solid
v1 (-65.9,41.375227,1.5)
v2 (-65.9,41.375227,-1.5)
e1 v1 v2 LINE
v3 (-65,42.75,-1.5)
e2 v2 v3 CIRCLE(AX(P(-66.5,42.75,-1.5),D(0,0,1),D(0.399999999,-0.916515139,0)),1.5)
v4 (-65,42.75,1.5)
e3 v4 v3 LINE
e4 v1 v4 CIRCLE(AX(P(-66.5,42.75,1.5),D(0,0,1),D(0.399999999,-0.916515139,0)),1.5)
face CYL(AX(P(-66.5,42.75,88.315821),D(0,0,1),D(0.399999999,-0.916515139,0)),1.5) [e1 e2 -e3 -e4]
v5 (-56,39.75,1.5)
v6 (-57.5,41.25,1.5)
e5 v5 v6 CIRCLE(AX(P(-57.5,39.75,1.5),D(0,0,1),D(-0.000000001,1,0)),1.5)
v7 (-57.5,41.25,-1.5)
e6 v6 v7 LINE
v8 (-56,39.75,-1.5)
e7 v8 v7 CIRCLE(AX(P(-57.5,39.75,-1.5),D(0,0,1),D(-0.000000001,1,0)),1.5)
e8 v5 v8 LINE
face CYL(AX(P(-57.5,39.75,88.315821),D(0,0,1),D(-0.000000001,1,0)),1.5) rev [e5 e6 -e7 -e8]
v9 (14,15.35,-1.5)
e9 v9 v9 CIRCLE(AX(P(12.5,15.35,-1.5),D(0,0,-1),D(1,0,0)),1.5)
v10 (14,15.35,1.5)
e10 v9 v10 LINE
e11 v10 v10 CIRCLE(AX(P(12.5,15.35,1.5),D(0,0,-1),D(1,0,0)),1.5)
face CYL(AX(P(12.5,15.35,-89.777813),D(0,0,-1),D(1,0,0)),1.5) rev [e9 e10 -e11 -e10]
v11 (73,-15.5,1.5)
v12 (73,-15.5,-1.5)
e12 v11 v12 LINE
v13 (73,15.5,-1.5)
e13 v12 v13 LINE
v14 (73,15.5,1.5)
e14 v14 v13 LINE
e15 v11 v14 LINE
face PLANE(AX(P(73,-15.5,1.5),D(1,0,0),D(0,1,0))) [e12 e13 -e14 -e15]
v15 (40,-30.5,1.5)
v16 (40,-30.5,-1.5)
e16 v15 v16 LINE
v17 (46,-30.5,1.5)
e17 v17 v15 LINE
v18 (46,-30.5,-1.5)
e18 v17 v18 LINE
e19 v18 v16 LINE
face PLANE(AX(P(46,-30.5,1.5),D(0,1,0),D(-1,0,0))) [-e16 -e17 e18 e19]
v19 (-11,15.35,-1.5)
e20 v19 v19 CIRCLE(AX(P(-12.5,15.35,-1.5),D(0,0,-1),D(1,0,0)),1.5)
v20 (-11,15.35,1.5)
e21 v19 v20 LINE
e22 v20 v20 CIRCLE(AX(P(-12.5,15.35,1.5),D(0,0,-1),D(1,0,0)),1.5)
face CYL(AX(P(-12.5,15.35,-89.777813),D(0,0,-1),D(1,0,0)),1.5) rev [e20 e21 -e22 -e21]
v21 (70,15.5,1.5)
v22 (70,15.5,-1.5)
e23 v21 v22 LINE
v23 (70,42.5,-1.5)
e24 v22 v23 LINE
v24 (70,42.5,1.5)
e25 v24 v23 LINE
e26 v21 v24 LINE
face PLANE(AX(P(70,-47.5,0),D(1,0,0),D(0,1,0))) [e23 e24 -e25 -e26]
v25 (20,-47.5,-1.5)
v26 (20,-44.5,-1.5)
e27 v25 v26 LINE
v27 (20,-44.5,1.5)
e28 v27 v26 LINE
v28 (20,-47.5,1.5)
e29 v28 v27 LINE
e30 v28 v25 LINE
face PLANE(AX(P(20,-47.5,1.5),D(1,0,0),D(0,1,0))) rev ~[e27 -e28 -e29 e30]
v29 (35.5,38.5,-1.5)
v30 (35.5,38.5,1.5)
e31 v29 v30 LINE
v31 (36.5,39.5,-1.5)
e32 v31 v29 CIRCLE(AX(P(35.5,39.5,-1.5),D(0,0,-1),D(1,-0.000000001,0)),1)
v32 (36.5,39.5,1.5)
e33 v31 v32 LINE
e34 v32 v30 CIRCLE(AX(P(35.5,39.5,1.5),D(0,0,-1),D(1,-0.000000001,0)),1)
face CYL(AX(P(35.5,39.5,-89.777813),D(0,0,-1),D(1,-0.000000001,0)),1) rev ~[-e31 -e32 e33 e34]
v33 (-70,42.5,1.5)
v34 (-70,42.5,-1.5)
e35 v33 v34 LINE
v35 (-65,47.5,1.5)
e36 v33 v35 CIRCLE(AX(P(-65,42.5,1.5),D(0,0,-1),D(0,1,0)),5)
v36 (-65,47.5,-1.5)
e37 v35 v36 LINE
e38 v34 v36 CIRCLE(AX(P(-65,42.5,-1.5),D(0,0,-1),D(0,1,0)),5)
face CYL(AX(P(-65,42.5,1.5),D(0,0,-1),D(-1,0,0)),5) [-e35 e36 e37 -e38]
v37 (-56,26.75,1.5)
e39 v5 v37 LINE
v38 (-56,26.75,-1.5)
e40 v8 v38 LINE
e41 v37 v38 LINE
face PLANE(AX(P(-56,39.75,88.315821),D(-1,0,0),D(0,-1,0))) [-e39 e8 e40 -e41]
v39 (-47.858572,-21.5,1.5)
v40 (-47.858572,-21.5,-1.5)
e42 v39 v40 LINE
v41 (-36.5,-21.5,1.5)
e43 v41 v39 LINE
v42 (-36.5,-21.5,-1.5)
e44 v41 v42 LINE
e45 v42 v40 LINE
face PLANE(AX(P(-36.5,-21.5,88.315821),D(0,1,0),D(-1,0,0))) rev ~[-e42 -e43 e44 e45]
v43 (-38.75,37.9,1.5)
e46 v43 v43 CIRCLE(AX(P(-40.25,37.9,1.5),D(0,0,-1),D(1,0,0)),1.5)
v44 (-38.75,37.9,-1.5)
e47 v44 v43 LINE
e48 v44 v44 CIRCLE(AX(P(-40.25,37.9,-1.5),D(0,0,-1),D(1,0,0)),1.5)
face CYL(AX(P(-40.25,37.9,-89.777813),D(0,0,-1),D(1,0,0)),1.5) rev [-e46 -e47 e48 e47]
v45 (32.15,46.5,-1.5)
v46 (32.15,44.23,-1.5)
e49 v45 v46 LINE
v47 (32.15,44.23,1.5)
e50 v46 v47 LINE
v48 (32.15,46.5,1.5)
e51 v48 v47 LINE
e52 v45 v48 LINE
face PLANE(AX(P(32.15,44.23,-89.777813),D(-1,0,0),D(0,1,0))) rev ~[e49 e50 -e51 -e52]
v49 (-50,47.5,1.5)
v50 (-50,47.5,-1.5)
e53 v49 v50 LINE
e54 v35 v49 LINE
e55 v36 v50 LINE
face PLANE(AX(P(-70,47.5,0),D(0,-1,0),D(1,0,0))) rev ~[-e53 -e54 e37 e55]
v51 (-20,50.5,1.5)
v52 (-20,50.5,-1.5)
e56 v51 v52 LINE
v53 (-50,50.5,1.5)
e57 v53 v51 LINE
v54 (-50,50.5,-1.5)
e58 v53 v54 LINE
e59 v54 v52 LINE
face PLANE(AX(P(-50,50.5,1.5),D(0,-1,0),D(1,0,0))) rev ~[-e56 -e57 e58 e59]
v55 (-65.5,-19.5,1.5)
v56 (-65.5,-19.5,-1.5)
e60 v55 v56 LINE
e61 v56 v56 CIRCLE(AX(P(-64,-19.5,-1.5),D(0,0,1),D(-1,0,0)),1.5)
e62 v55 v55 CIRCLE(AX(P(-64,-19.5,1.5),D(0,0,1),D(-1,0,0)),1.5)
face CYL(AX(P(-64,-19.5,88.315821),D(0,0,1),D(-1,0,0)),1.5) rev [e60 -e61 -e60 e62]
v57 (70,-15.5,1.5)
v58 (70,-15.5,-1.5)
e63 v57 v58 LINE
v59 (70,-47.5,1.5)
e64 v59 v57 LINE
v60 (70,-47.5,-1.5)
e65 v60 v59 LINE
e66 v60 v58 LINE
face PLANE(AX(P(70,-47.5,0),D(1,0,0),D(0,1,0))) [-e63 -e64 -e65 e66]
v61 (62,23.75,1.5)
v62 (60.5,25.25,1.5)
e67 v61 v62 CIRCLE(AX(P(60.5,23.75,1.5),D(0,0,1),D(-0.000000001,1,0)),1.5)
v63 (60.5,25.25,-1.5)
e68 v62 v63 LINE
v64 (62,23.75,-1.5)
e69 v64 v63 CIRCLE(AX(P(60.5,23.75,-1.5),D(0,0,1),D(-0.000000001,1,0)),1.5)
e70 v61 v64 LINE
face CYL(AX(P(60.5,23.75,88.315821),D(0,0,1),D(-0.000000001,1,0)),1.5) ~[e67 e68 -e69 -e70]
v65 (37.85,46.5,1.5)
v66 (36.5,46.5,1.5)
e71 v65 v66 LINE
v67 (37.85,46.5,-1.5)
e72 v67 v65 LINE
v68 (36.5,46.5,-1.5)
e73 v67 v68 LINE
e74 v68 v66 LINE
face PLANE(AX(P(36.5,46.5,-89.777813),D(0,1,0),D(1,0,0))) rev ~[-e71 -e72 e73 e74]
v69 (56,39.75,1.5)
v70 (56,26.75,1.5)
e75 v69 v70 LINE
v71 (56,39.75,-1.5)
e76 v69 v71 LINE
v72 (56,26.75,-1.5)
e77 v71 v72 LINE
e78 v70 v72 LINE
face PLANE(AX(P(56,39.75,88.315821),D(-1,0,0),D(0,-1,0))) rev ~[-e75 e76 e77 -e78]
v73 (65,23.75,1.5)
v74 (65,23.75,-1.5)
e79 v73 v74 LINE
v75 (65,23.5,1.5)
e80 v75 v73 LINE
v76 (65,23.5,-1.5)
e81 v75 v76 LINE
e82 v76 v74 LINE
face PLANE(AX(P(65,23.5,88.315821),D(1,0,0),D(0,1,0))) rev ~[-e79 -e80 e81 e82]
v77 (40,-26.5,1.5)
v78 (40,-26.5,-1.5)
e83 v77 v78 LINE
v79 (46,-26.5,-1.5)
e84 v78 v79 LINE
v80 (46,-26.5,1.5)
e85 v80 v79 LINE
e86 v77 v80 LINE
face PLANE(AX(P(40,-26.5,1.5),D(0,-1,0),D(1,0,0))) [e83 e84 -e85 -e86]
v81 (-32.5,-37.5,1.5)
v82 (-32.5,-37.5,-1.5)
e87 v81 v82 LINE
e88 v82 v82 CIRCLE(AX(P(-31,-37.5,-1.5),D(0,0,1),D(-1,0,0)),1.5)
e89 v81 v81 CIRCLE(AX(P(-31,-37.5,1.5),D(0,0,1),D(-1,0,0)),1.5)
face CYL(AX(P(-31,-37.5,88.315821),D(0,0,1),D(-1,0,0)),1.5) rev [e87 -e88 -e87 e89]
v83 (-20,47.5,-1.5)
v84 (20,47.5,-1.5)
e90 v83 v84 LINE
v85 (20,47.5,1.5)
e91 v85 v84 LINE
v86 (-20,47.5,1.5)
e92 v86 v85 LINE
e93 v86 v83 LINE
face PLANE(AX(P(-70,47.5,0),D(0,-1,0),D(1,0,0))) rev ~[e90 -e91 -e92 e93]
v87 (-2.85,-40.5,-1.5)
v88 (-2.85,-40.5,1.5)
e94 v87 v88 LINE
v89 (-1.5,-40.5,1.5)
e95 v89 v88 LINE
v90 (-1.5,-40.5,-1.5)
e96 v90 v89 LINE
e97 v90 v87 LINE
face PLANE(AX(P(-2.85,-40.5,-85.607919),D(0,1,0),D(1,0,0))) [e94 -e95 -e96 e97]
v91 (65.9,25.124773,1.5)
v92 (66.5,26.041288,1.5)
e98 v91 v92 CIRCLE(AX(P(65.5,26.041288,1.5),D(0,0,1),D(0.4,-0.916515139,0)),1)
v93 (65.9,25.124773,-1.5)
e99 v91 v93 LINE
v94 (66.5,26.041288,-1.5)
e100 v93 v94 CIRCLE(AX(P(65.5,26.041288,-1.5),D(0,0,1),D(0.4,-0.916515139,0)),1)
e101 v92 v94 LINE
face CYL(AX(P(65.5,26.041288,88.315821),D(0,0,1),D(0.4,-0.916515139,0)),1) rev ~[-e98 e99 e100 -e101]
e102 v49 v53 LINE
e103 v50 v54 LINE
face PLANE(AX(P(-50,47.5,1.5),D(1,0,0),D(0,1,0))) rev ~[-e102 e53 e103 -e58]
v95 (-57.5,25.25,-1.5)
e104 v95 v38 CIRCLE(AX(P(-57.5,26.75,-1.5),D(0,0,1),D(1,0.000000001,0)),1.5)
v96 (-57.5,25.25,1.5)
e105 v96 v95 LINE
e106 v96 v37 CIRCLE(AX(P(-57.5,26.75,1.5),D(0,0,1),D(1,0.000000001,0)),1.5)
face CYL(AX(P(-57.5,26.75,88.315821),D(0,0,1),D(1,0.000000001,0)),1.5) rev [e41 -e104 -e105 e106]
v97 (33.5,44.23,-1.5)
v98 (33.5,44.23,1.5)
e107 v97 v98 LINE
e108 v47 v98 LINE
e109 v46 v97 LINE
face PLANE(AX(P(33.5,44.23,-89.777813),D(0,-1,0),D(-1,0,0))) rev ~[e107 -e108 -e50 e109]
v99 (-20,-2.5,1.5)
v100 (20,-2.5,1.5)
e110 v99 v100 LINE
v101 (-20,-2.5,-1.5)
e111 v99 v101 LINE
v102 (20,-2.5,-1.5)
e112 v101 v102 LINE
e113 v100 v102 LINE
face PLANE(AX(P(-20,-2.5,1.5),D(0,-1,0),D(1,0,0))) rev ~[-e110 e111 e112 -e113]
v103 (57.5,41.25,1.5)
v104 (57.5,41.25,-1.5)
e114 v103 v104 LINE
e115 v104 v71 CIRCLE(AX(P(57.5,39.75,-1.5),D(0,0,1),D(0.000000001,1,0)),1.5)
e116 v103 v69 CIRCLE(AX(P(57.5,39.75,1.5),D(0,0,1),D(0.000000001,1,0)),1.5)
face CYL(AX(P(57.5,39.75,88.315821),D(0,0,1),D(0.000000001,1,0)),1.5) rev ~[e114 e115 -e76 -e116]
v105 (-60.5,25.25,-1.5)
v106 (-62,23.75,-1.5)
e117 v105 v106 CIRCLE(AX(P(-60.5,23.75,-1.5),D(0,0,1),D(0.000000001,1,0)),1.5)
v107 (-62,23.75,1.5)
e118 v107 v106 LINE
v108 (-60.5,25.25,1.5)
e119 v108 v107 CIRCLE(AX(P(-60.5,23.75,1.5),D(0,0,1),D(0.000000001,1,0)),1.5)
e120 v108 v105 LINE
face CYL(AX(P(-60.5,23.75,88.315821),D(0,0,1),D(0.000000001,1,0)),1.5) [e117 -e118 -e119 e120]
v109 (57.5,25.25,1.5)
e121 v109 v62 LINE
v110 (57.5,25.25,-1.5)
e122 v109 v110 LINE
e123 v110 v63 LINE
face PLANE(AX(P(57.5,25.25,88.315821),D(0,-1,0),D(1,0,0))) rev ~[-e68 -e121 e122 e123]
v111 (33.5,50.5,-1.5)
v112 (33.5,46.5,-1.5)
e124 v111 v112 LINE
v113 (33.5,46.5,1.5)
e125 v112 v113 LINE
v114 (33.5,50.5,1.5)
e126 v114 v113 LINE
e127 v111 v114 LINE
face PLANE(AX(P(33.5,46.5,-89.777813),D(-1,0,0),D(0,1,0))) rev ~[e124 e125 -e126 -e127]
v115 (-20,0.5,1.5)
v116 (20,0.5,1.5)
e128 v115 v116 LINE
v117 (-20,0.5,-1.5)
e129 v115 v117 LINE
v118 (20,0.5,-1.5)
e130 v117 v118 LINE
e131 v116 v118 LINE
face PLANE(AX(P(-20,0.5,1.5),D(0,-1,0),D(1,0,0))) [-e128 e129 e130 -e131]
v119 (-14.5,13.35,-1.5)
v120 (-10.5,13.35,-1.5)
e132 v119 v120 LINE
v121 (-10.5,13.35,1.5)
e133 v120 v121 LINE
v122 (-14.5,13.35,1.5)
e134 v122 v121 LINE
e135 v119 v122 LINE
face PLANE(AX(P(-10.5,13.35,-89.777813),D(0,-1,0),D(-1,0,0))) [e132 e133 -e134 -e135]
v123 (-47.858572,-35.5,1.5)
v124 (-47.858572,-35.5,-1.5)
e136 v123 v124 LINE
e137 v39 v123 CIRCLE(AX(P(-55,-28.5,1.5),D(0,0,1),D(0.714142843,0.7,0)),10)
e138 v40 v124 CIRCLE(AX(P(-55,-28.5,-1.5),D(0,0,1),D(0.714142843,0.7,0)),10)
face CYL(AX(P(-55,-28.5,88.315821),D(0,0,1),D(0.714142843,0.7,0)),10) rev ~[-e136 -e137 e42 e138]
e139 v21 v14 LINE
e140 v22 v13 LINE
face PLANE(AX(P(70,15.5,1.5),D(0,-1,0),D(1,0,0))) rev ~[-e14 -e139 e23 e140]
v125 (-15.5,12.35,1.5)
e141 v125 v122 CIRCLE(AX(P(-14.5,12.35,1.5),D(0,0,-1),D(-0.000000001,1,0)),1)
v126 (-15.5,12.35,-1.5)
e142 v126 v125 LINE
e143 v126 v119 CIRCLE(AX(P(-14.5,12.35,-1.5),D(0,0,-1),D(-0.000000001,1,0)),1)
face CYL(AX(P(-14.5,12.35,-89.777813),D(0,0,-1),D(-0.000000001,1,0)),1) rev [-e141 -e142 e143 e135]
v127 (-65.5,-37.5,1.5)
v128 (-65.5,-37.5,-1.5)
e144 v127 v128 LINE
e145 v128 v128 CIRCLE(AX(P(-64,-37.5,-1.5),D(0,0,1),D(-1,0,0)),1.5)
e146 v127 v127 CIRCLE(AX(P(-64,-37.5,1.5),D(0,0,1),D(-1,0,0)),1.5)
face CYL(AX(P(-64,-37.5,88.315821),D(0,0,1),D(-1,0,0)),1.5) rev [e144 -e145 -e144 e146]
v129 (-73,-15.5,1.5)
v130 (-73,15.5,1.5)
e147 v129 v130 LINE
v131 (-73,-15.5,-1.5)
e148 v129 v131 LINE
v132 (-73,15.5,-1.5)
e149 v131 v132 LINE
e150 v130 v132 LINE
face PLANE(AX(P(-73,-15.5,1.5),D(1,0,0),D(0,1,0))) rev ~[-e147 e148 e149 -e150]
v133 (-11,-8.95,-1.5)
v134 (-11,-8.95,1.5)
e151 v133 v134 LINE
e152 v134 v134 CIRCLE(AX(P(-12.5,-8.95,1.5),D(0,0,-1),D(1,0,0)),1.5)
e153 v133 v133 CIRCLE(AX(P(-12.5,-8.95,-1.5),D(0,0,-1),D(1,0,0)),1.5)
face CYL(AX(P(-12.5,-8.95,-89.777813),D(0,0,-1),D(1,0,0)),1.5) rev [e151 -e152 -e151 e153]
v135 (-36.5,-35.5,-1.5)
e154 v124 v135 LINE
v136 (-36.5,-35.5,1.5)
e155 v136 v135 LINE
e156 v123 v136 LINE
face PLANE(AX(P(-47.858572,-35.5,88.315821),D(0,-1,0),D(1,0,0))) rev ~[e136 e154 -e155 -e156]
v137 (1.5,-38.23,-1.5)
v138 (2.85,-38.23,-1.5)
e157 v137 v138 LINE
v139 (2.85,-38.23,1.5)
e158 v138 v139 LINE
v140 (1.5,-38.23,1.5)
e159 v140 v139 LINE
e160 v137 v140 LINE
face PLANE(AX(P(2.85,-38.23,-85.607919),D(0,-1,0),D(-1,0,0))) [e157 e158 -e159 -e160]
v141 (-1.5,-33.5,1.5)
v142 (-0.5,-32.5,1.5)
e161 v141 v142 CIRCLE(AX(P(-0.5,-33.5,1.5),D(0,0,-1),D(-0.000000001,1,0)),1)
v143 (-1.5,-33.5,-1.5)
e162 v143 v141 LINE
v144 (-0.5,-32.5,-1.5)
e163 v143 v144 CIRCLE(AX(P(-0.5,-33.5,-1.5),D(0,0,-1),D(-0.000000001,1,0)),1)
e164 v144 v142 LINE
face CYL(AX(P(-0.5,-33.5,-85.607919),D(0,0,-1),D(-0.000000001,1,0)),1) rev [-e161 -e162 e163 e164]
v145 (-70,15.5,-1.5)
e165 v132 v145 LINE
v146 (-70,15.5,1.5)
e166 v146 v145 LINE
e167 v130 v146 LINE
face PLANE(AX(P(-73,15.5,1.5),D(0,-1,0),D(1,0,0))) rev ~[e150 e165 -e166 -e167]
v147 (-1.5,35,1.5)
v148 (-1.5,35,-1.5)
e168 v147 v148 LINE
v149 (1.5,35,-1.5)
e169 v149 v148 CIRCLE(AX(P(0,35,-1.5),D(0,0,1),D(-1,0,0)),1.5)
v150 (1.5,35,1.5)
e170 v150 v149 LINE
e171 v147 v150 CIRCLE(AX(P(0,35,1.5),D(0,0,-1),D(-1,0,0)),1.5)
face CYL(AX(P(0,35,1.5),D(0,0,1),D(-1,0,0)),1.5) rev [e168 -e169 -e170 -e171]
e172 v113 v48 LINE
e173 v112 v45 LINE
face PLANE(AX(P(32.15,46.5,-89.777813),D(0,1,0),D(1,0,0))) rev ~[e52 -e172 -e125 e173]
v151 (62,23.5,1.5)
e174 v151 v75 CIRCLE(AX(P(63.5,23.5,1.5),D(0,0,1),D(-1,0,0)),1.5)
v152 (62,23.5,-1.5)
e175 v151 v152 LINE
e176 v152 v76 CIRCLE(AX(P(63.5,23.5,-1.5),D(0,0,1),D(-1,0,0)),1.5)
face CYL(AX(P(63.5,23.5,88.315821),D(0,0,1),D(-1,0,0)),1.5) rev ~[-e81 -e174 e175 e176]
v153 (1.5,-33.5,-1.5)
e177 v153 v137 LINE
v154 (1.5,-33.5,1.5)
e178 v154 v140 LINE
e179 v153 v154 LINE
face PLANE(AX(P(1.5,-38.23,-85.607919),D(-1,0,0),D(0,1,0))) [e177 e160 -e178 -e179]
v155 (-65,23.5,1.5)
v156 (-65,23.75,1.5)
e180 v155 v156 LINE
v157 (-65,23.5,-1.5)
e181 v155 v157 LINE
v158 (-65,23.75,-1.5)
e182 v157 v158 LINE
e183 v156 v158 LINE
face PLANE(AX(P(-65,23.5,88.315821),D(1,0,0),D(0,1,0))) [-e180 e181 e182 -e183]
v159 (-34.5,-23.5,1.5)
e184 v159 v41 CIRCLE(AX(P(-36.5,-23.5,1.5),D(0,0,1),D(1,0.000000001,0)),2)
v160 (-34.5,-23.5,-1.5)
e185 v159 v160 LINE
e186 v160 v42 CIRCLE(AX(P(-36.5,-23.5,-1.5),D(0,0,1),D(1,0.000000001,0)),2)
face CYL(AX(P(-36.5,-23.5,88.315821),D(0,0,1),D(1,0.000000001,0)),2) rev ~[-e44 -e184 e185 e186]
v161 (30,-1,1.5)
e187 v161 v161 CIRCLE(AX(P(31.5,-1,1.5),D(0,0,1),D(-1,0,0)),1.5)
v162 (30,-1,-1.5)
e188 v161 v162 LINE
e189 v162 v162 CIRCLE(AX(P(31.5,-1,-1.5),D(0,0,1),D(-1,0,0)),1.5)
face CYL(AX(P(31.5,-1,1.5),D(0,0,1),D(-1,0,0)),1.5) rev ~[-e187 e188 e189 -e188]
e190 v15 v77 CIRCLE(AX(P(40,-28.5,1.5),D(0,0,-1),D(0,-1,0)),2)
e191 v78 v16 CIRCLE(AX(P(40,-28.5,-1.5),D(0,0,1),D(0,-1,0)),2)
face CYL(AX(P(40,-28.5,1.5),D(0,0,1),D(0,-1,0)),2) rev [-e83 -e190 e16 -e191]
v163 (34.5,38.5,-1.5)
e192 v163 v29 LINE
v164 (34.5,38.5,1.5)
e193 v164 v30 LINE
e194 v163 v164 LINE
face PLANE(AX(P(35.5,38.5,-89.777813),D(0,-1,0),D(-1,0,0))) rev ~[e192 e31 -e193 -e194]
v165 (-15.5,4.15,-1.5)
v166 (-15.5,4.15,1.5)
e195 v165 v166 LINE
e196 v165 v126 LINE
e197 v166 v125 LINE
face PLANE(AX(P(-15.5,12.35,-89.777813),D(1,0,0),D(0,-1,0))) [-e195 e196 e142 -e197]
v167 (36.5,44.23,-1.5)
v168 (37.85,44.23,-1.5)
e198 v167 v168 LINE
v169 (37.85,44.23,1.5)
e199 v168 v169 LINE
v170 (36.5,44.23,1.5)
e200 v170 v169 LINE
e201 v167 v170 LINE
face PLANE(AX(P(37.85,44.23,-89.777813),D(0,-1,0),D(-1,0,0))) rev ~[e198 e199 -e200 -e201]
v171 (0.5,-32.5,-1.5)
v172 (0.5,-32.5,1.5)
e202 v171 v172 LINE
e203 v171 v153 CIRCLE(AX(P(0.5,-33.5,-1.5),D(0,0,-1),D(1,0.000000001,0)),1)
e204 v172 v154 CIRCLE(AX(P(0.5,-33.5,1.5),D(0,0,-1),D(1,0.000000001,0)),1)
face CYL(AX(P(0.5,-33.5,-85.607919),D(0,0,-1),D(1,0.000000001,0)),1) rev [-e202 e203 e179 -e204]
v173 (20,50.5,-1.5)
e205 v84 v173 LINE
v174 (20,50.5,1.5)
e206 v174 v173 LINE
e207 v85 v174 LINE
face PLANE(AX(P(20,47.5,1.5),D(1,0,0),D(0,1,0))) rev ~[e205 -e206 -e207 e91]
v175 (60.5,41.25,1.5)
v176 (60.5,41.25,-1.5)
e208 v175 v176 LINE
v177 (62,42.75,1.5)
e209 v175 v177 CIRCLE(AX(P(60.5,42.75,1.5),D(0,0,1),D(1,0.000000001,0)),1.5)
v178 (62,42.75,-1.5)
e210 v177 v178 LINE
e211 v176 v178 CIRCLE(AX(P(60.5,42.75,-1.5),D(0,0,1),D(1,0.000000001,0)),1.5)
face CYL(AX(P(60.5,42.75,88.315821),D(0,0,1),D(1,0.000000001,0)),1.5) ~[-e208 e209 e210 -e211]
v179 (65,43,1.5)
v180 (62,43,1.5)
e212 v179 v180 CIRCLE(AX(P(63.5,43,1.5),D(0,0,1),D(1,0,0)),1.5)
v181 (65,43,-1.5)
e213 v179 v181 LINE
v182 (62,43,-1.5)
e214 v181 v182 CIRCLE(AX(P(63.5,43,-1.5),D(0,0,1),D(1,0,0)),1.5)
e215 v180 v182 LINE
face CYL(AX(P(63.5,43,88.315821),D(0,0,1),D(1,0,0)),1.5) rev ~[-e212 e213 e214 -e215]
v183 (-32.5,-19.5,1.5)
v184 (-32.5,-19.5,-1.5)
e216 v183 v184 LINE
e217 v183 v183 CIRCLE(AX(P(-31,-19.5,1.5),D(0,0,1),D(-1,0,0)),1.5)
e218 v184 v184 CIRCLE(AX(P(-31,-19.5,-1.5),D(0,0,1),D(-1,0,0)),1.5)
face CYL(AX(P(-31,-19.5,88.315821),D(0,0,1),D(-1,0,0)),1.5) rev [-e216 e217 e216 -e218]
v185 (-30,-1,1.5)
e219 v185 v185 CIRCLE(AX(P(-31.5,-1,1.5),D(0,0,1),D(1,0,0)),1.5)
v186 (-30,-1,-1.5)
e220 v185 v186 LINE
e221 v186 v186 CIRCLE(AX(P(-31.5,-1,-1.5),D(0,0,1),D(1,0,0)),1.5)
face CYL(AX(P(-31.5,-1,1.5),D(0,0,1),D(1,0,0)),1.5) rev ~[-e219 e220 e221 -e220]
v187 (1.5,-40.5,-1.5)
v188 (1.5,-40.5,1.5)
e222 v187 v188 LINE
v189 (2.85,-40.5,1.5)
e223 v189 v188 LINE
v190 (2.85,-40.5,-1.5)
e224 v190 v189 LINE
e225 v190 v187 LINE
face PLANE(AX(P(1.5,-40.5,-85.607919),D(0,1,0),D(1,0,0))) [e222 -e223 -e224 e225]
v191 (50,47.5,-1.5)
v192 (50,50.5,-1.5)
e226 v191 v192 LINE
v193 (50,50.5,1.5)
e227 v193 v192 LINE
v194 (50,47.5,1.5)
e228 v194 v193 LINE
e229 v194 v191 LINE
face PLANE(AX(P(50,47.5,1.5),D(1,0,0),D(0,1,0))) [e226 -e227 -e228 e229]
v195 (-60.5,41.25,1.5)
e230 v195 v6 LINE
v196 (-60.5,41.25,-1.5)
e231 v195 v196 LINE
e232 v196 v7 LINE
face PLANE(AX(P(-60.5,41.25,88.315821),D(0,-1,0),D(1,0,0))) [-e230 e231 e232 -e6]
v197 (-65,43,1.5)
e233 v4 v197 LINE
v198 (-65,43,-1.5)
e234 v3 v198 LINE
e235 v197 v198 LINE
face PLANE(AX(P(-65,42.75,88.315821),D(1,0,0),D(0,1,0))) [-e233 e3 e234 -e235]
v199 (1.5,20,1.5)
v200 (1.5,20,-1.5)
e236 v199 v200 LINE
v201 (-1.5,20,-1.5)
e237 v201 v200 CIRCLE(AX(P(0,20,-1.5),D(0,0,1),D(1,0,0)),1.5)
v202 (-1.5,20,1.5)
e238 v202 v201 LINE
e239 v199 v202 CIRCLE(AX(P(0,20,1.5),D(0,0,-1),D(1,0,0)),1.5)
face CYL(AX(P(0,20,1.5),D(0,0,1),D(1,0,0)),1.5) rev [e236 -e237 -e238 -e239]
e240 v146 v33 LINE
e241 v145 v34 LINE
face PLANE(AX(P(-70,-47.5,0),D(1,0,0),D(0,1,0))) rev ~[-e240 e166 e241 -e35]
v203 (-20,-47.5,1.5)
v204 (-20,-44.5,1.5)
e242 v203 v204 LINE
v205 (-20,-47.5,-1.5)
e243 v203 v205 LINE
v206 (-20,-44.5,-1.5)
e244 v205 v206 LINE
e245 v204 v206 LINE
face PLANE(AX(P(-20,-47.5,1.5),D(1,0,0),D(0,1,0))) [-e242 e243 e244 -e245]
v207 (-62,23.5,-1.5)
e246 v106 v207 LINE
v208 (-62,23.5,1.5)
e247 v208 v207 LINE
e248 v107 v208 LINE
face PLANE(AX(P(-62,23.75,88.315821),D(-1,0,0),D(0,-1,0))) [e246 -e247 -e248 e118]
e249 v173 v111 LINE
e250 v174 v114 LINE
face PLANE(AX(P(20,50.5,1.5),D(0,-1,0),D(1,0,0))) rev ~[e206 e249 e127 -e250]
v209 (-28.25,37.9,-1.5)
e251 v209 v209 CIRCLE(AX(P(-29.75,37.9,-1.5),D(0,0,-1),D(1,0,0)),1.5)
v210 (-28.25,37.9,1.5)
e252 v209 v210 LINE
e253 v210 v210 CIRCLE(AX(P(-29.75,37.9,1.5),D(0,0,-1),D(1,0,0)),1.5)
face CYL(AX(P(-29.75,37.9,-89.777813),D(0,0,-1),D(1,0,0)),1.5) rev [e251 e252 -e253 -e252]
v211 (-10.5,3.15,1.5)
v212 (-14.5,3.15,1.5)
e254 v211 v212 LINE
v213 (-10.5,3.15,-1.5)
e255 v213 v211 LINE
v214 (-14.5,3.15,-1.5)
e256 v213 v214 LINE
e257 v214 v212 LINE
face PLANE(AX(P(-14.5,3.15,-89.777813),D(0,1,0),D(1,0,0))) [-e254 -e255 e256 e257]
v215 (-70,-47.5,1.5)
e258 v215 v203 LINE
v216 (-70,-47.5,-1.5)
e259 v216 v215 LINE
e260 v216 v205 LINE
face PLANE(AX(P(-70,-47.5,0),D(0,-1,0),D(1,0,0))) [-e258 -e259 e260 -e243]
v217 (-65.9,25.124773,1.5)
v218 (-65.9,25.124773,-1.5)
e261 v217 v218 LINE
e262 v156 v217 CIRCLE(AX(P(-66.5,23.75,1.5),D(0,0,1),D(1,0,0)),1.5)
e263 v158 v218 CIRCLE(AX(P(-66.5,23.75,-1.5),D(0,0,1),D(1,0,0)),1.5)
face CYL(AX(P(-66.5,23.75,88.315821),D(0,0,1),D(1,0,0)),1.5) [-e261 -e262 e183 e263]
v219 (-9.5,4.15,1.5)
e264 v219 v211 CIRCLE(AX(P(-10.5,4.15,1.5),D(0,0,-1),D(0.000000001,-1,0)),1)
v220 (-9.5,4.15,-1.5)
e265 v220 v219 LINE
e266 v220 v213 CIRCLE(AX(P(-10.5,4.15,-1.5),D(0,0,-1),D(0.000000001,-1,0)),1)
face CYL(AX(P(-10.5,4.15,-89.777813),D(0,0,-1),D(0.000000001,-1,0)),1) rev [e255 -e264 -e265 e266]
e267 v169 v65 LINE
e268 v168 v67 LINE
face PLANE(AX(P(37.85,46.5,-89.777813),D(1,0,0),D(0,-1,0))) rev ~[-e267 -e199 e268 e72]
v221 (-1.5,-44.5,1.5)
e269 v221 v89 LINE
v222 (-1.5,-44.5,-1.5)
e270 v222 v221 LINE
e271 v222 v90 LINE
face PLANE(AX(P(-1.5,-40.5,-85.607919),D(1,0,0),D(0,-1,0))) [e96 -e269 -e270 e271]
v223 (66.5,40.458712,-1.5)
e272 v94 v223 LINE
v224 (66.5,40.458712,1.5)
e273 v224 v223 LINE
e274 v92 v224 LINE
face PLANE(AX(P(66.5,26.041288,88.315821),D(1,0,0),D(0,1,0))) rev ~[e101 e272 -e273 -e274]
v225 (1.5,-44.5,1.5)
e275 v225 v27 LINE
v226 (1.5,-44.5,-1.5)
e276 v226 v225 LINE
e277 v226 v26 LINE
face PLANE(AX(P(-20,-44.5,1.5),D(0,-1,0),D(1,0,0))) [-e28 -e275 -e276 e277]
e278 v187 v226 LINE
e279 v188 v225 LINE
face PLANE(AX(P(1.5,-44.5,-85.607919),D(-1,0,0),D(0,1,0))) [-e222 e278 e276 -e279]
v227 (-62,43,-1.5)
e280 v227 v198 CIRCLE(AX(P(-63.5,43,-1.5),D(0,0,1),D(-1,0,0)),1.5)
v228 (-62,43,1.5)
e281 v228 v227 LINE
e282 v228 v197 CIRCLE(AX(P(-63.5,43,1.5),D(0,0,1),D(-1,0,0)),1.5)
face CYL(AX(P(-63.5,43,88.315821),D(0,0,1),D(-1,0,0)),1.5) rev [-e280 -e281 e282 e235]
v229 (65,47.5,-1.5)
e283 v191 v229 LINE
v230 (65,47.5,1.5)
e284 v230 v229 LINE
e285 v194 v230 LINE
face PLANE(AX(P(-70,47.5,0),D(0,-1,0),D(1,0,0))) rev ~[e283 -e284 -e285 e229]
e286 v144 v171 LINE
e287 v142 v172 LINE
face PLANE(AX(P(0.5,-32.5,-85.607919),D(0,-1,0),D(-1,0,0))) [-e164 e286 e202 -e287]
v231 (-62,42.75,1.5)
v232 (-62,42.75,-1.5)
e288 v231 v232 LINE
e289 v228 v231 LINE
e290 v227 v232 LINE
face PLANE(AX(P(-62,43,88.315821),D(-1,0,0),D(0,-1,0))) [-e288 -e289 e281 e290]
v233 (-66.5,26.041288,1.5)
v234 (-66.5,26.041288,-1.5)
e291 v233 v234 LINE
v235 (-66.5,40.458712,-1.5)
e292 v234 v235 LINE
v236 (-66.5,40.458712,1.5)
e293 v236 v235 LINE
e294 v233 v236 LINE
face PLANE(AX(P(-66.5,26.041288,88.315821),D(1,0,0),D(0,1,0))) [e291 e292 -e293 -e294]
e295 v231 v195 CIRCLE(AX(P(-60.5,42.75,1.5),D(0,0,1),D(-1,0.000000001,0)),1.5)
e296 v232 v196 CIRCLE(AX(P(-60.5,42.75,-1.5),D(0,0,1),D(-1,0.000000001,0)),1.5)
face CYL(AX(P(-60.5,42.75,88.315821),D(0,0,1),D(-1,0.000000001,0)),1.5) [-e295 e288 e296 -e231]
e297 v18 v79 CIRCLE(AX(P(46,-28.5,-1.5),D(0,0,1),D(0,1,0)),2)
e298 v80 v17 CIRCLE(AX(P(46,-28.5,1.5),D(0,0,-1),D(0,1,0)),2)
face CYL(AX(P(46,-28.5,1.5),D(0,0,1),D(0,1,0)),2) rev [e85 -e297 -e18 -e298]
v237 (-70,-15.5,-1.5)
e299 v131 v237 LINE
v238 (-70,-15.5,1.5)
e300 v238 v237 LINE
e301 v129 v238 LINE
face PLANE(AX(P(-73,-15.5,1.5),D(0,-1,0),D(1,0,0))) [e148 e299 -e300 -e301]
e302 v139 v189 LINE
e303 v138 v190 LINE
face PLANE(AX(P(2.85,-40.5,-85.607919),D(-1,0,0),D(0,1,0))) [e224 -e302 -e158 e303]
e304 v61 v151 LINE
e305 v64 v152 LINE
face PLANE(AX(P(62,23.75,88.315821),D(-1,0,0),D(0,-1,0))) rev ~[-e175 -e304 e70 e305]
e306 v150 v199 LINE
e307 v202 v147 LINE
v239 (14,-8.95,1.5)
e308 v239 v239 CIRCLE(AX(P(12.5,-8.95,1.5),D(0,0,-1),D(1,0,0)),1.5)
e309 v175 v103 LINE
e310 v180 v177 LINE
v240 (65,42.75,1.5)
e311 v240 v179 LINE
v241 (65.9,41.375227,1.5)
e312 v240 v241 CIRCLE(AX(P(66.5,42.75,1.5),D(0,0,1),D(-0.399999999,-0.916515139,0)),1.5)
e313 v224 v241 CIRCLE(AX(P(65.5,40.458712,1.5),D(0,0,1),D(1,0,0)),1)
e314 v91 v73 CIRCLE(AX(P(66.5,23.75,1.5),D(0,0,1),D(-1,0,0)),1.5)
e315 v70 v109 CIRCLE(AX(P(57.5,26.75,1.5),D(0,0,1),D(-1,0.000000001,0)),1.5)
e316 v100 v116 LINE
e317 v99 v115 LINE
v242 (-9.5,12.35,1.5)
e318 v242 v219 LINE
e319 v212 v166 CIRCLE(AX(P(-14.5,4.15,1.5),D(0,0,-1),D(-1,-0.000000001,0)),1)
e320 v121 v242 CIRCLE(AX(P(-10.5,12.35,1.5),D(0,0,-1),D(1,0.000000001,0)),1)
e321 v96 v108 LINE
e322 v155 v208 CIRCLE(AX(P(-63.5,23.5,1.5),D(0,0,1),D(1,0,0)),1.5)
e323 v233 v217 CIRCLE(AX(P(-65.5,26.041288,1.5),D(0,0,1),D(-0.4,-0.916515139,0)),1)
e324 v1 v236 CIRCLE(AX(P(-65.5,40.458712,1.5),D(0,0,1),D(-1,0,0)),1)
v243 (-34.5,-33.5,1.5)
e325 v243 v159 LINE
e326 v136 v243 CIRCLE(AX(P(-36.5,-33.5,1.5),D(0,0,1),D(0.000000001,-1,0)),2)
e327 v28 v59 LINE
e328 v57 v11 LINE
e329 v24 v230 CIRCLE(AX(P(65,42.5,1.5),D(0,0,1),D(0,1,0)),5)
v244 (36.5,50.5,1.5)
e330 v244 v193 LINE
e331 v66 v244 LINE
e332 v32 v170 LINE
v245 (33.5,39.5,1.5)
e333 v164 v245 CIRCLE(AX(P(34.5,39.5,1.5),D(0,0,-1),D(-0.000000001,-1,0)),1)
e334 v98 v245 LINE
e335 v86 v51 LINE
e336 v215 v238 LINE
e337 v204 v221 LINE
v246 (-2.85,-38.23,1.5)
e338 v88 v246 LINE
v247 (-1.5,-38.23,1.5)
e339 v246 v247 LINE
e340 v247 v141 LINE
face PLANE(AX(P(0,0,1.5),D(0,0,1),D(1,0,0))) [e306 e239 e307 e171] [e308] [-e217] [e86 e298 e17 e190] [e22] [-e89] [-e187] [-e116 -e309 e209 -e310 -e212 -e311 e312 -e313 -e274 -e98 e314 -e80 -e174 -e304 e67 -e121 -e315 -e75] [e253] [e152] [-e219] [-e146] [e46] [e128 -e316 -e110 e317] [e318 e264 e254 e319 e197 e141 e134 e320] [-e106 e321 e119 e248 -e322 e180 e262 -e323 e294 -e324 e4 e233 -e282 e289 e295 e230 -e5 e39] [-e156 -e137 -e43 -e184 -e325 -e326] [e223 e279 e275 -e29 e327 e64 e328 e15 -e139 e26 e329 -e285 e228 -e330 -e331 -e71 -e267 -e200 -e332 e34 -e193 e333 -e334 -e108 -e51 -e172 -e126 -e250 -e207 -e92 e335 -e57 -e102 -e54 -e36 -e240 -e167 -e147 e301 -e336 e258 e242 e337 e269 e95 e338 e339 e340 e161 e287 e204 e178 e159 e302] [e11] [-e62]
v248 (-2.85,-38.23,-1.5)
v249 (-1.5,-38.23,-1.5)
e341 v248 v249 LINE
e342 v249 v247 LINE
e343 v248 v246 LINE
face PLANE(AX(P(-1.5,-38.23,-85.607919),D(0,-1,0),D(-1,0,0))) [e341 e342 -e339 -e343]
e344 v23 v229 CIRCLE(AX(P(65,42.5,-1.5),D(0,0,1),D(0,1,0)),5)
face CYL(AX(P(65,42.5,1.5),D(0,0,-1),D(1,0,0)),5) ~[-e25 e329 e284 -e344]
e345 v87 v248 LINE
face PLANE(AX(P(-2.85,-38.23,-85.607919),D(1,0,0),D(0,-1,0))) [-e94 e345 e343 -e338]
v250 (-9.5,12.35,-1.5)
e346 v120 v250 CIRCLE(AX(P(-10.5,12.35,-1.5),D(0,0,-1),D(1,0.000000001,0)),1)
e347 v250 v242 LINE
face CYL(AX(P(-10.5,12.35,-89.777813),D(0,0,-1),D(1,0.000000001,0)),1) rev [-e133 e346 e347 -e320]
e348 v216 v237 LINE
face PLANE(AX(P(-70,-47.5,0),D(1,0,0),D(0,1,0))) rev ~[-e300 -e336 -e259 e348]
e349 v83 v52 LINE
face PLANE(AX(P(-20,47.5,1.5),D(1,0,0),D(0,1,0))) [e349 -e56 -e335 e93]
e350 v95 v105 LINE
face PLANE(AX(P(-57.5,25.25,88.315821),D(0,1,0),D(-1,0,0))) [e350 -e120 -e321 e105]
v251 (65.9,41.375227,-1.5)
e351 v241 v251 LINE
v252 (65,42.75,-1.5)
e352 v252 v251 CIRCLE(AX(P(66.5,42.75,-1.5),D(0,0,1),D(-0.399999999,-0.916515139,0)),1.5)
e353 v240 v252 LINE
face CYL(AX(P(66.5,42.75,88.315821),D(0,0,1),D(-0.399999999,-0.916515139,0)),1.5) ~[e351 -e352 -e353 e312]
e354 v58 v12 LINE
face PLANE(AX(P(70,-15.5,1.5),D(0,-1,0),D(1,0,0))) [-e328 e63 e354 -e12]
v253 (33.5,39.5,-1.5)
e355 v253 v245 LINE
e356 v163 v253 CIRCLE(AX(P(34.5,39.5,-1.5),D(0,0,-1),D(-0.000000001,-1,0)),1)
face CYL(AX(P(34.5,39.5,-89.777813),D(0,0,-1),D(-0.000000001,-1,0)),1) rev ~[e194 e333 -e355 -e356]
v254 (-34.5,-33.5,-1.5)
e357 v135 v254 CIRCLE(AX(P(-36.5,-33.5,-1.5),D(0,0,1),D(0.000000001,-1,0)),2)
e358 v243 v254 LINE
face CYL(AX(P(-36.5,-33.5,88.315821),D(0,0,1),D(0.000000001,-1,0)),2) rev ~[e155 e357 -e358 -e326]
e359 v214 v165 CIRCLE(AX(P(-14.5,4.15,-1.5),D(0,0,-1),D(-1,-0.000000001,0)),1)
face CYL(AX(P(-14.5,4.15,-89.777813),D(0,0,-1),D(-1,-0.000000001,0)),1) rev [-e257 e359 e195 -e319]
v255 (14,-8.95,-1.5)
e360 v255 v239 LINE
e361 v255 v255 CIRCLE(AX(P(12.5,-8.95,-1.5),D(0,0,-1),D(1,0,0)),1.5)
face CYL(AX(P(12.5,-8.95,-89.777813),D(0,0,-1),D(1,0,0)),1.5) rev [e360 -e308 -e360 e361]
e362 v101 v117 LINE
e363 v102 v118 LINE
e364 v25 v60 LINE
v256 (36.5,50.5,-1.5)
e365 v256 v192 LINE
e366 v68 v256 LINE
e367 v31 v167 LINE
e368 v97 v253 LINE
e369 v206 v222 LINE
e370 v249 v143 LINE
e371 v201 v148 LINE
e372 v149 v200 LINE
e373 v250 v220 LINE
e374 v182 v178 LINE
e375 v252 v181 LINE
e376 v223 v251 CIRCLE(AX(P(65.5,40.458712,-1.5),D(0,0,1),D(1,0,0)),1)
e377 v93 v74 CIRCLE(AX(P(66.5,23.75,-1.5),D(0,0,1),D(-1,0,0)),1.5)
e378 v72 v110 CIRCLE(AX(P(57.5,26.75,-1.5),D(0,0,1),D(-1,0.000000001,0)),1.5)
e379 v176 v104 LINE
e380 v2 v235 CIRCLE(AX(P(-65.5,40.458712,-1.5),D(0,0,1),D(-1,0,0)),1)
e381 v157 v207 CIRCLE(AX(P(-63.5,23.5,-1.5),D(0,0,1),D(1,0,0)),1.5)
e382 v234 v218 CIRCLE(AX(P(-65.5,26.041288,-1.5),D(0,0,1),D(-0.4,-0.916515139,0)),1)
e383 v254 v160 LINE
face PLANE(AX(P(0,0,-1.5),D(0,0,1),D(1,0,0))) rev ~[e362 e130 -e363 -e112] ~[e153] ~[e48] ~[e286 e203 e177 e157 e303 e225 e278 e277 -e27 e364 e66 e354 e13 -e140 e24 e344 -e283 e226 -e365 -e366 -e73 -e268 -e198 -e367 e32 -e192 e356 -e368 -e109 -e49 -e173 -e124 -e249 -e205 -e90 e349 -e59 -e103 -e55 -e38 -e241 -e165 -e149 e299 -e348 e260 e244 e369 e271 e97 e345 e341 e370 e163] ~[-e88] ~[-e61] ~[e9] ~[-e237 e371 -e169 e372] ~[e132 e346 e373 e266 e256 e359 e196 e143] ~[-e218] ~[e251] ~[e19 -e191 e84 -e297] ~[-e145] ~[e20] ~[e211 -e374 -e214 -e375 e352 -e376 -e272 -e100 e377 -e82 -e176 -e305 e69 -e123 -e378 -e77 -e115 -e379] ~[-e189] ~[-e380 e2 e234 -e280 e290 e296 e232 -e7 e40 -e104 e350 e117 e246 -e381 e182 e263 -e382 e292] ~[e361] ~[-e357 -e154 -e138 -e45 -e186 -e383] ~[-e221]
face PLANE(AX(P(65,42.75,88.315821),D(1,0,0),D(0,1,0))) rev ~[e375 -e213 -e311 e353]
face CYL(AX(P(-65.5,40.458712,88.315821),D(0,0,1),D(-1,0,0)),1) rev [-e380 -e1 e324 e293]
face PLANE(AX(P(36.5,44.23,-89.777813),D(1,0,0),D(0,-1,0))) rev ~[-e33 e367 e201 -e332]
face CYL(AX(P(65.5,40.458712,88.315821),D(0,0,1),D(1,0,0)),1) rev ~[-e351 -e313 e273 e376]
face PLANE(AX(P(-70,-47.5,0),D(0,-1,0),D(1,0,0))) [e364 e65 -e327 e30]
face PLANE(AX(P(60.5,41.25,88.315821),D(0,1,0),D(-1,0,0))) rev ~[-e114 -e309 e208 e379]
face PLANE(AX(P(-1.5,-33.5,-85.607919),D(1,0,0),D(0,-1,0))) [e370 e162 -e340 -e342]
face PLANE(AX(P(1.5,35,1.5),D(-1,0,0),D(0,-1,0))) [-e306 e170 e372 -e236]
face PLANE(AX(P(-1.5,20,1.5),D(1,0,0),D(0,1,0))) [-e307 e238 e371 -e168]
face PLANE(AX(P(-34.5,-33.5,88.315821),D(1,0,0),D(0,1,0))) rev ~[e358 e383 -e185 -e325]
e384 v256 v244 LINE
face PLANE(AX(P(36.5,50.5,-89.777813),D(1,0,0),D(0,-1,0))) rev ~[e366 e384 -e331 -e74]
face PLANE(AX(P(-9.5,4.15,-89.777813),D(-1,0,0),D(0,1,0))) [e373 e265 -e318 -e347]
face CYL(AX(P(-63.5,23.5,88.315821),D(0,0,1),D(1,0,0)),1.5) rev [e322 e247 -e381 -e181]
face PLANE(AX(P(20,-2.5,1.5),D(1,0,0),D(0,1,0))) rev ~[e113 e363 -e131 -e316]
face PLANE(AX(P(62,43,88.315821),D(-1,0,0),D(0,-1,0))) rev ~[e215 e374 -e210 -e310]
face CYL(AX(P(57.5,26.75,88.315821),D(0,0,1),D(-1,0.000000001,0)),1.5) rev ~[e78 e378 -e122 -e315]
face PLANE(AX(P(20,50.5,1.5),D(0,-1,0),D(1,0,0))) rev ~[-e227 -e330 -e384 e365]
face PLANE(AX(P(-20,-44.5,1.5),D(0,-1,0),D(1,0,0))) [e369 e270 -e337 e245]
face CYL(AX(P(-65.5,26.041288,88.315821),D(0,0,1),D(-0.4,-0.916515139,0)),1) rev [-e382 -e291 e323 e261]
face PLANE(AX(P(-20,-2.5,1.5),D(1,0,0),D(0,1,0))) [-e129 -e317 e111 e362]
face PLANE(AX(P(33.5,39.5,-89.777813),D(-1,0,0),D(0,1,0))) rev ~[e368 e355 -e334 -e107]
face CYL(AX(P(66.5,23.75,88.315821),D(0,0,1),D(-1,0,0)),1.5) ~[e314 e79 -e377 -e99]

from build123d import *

# Parameters (mm, degrees)
ESBO_O1_W                   = 140
ESBO_O1_H                   = 95
RESSALTO_EXTRUS_O1_DEPTH    = 1.5
ESBO_O2_R                   = 1.5
ESBO_O2_W                   = 40
ESBO_O2_H                   = 3
CORTE_EXTRUS_O1_DEPTH       = 85.647799735
CUT_EXTRUDE12_DEPTH         = 85.607919251
CUT_EXTRUDE12_DEPTH_BACK    = 85.607919251
ESBO_O3_W                   = 3
ESBO_O3_H                   = 31
ESBO_O3_W_2                 = 30
ESBO_O3_H_2                 = 3
RESSALTO_EXTRUS_O2_DEPTH    = 3
CORTE_EXTRUS_O11_DEPTH      = 89.815820663
CORTE_EXTRUS_O11_DEPTH_BACK = 89.815820663
CORTE_EXTRUS_O2_DEPTH       = 89.815820663
CORTE_EXTRUS_O12_DEPTH      = 89.815820663
CORTE_EXTRUS_O12_DEPTH_BACK = 89.815820663
ESBO_O31_R                  = 1.5
CUT_EXTRUDE11_DEPTH         = 89.815820663
CUT_EXTRUDE11_DEPTH_BACK    = 89.815820663
CUT_EXTRUDE14_DEPTH         = 89.777812543
CUT_EXTRUDE14_DEPTH_BACK    = 89.777812543
CUT_EXTRUDE15_DEPTH         = 89.815820663
CUT_EXTRUDE16_DEPTH         = 89.777812543
CUT_EXTRUDE16_DEPTH_BACK    = 89.777812543
SKETCH13_R                  = 1.5
FILLET1_R                   = 5
CUT_EXTRUDE17_DEPTH         = 89.777812543
CUT_EXTRUDE17_DEPTH_BACK    = 89.777812543
SKETCH14_R                  = 1.5


with BuildPart() as part:
    # Esboço1 → Ressalto-extrusão1 (new, symmetric)
    with BuildSketch(Plane.XY):
        Rectangle(ESBO_O1_W, ESBO_O1_H)
    extrude(amount=RESSALTO_EXTRUS_O1_DEPTH, both=True)

    # Esboço2 → Corte-extrusão1 (cut, through all)
    with BuildSketch(Plane.XY.offset(1.5)):
        with Locations((-31.5, -1)):
            Circle(ESBO_O2_R)
        with Locations(Location((31.5, -1, 0), (0, 0, 180))):
            Circle(ESBO_O2_R)
        with Locations((0, -46)):
            Rectangle(ESBO_O2_W, ESBO_O2_H)
        with Locations((0, -1)):
            Rectangle(ESBO_O2_W, ESBO_O2_H)
    extrude(amount=-CORTE_EXTRUS_O1_DEPTH, mode=Mode.SUBTRACT)

    # Sketch9 → Cut-Extrude12 (cut, two sides: drawn at the far end of the back side and taken through both)
    with BuildSketch(Plane.XY.offset(-CUT_EXTRUDE12_DEPTH_BACK)):
        with BuildLine():
            Line((-1.5, -44.5), (1.5, -44.5))
            Line((1.5, -44.5), (1.5, -40.5))
            Line((1.5, -40.5), (2.85, -40.5))
            Line((2.85, -40.5), (2.85, -38.23))
            Line((2.85, -38.23), (1.5, -38.23))
            Line((1.5, -38.23), (1.5, -33.5))
            ThreePointArc((1.5, -33.5), (1.207106781, -32.792893219), (0.5, -32.5))
            Line((0.5, -32.5), (-0.5, -32.5))
            ThreePointArc((-0.5, -32.5), (-1.207106781, -32.792893219), (-1.5, -33.5))
            Line((-1.5, -33.5), (-1.5, -38.23))
            Line((-1.5, -38.23), (-2.85, -38.23))
            Line((-2.85, -38.23), (-2.85, -40.5))
            Line((-2.85, -40.5), (-1.5, -40.5))
            Line((-1.5, -40.5), (-1.5, -44.5))
        make_face()
    extrude(amount=CUT_EXTRUDE12_DEPTH + CUT_EXTRUDE12_DEPTH_BACK, mode=Mode.SUBTRACT)

    # Esboço3 → Ressalto-extrusão2 (add, through all)
    with BuildSketch(Plane.XY.offset(1.5)):
        with Locations((71.5, 0)):
            Rectangle(ESBO_O3_W, ESBO_O3_H)
        with Locations((-71.5, 0)):
            Rectangle(ESBO_O3_W, ESBO_O3_H)
        with Locations((-35, 49)):
            Rectangle(ESBO_O3_W_2, ESBO_O3_H_2)
        with Locations((35, 49)):
            Rectangle(ESBO_O3_W_2, ESBO_O3_H_2)
    extrude(amount=-RESSALTO_EXTRUS_O2_DEPTH)

    # Esboço30 → Corte-extrusão11 (cut, two sides: drawn at the far end of the back side and taken through both)
    with BuildSketch(Plane(origin=(0, 0, -1.5), x_dir=(-1, 0, 0), z_dir=(0, 0, -1)).offset(-CORTE_EXTRUS_O11_DEPTH_BACK)):
        with BuildLine():
            Line((36.5, -21.5), (47.858571571, -21.5))
            ThreePointArc((47.858571571, -21.5), (65, -28.5), (47.858571571, -35.5))
            Line((47.858571571, -35.5), (36.5, -35.5))
            ThreePointArc((36.5, -35.5), (35.085786438, -34.914213562), (34.5, -33.5))
            Line((34.5, -33.5), (34.5, -23.5))
            ThreePointArc((34.5, -23.5), (35.085786438, -22.085786438), (36.5, -21.5))
        make_face()
    extrude(amount=CORTE_EXTRUS_O11_DEPTH + CORTE_EXTRUS_O11_DEPTH_BACK, mode=Mode.SUBTRACT)

    # Esboço4 → Corte-extrusão2 (cut, through all)
    with BuildSketch(Plane.XY.offset(1.5)):
        with BuildLine():
            Line((40, -26.5), (46, -26.5))
            ThreePointArc((46, -26.5), (48, -28.5), (46, -30.5))
            Line((46, -30.5), (40, -30.5))
            ThreePointArc((40, -30.5), (38, -28.5), (40, -26.5))
        make_face()
    extrude(amount=-CORTE_EXTRUS_O2_DEPTH, mode=Mode.SUBTRACT)

    # Esboço31 → Corte-extrusão12 (cut, two sides: drawn at the far end of the back side and taken through both)
    with BuildSketch(Plane(origin=(0, 0, -1.5), x_dir=(-1, 0, 0), z_dir=(0, 0, -1)).offset(-CORTE_EXTRUS_O12_DEPTH_BACK)):
        with Locations((64, -19.5)):
            Circle(ESBO_O31_R)
        with Locations((64, -37.5)):
            Circle(ESBO_O31_R)
        with Locations((31, -19.5)):
            Circle(ESBO_O31_R)
        with Locations((31, -37.5)):
            Circle(ESBO_O31_R)
    extrude(amount=CORTE_EXTRUS_O12_DEPTH + CORTE_EXTRUS_O12_DEPTH_BACK, mode=Mode.SUBTRACT)

    # Sketch8 → Cut-Extrude11 (cut, two sides: drawn at the far end of the back side and taken through both)
    with BuildSketch(Plane(origin=(0, 0, -1.5), x_dir=(-1, 0, 0), z_dir=(0, 0, -1)).offset(-CUT_EXTRUDE11_DEPTH_BACK)):
        with BuildLine():
            Line((-56, 39.75), (-56, 26.75))
            ThreePointArc((-56, 26.75), (-56.439339828, 25.689339828), (-57.5, 25.25))
            Line((-57.5, 25.25), (-60.5, 25.25))
            ThreePointArc((-60.5, 25.25), (-61.560660172, 24.810660172), (-62, 23.75))
            Line((-62, 23.75), (-62, 23.5))
            ThreePointArc((-62, 23.5), (-63.5, 22), (-65, 23.5))
            Line((-65, 23.5), (-65, 23.75))
            ThreePointArc((-65, 23.75), (-65.24500996, 24.571583836), (-65.9, 25.124772708))
            ThreePointArc((-65.9, 25.124772708), (-66.336660027, 25.49356529), (-66.5, 26.041287847))
            Line((-66.5, 26.041287847), (-66.5, 40.458712153))
            ThreePointArc((-66.5, 40.458712153), (-66.336660027, 41.00643471), (-65.9, 41.375227292))
            ThreePointArc((-65.9, 41.375227292), (-65.24500996, 41.928416164), (-65, 42.75))
            Line((-65, 42.75), (-65, 43))
            ThreePointArc((-65, 43), (-63.5, 44.5), (-62, 43))
            Line((-62, 43), (-62, 42.75))
            ThreePointArc((-62, 42.75), (-61.560660172, 41.689339828), (-60.5, 41.25))
            Line((-60.5, 41.25), (-57.5, 41.25))
            ThreePointArc((-57.5, 41.25), (-56.439339828, 40.810660172), (-56, 39.75))
        make_face()
        with BuildLine():
            Line((56, 39.75), (56, 26.75))
            ThreePointArc((56, 26.75), (56.439339828, 25.689339828), (57.5, 25.25))
            Line((57.5, 25.25), (60.5, 25.25))
            ThreePointArc((60.5, 25.25), (61.560660172, 24.810660172), (62, 23.75))
            Line((62, 23.75), (62, 23.5))
            ThreePointArc((62, 23.5), (63.5, 22), (65, 23.5))
            Line((65, 23.5), (65, 23.75))
            ThreePointArc((65, 23.75), (65.24500996, 24.571583836), (65.9, 25.124772708))
            ThreePointArc((65.9, 25.124772708), (66.336660027, 25.49356529), (66.5, 26.041287847))
            Line((66.5, 26.041287847), (66.5, 40.458712153))
            ThreePointArc((66.5, 40.458712153), (66.336660027, 41.00643471), (65.9, 41.375227292))
            ThreePointArc((65.9, 41.375227292), (65.24500996, 41.928416164), (65, 42.75))
            Line((65, 42.75), (65, 43))
            ThreePointArc((65, 43), (63.5, 44.5), (62, 43))
            Line((62, 43), (62, 42.75))
            ThreePointArc((62, 42.75), (61.560660172, 41.689339828), (60.5, 41.25))
            Line((60.5, 41.25), (57.5, 41.25))
            ThreePointArc((57.5, 41.25), (56.439339828, 40.810660172), (56, 39.75))
        make_face()
    extrude(amount=CUT_EXTRUDE11_DEPTH + CUT_EXTRUDE11_DEPTH_BACK, mode=Mode.SUBTRACT)

    # Sketch11 → Cut-Extrude14 (cut, two sides: drawn at the far end of the back side and taken through both)
    with BuildSketch(Plane.XY.offset(-CUT_EXTRUDE14_DEPTH_BACK)):
        with BuildLine():
            Line((33.5, 50.5), (36.5, 50.5))
            Line((36.5, 50.5), (36.5, 46.5))
            Line((36.5, 46.5), (37.85, 46.5))
            Line((37.85, 46.5), (37.85, 44.23))
            Line((37.85, 44.23), (36.5, 44.23))
            Line((36.5, 44.23), (36.5, 39.5))
            ThreePointArc((36.5, 39.5), (36.207106781, 38.792893219), (35.5, 38.5))
            Line((35.5, 38.5), (34.5, 38.5))
            ThreePointArc((34.5, 38.5), (33.792893219, 38.792893219), (33.5, 39.5))
            Line((33.5, 39.5), (33.5, 44.23))
            Line((33.5, 44.23), (32.15, 44.23))
            Line((32.15, 44.23), (32.15, 46.5))
            Line((32.15, 46.5), (33.5, 46.5))
            Line((33.5, 46.5), (33.5, 50.5))
        make_face()
    extrude(amount=CUT_EXTRUDE14_DEPTH + CUT_EXTRUDE14_DEPTH_BACK, mode=Mode.SUBTRACT)

    # Sketch12 → Cut-Extrude15 (cut, through all)
    with BuildSketch(Plane.XY.offset(1.5)):
        with BuildLine():
            Line((-1.5, 20), (-1.5, 35))
            ThreePointArc((-1.5, 35), (0, 36.5), (1.5, 35))
            Line((1.5, 35), (1.5, 20))
            ThreePointArc((1.5, 20), (0, 18.5), (-1.5, 20))
        make_face()
    extrude(amount=-CUT_EXTRUDE15_DEPTH, mode=Mode.SUBTRACT)

    # Sketch13 → Cut-Extrude16 (cut, two sides: drawn at the far end of the back side and taken through both)
    with BuildSketch(Plane.XY.offset(-CUT_EXTRUDE16_DEPTH_BACK)):
        with Locations((12.5, 15.35)):
            Circle(SKETCH13_R)
        with Locations((-12.5, -8.95)):
            Circle(SKETCH13_R)
        with Locations((12.5, -8.95)):
            Circle(SKETCH13_R)
        with Locations((-12.5, 15.35)):
            Circle(SKETCH13_R)
        with BuildLine():
            Line((-10.5, 13.35), (-14.5, 13.35))
            ThreePointArc((-14.5, 13.35), (-15.207106781, 13.057106781), (-15.5, 12.35))
            Line((-15.5, 12.35), (-15.5, 4.15))
            ThreePointArc((-15.5, 4.15), (-15.207106781, 3.442893219), (-14.5, 3.15))
            Line((-14.5, 3.15), (-10.5, 3.15))
            ThreePointArc((-10.5, 3.15), (-9.792893219, 3.442893219), (-9.5, 4.15))
            Line((-9.5, 4.15), (-9.5, 12.35))
            ThreePointArc((-9.5, 12.35), (-9.792893219, 13.057106781), (-10.5, 13.35))
        make_face()
    extrude(amount=CUT_EXTRUDE16_DEPTH + CUT_EXTRUDE16_DEPTH_BACK, mode=Mode.SUBTRACT)

    # Fillet1
    fillet1_edges = [part.edges().sort_by_distance(p)[0] for p in [
        (-70, 47.5, 0),
        (70, 47.5, 0),
    ]]
    fillet(fillet1_edges, radius=FILLET1_R)

    # Sketch14 → Cut-Extrude17 (cut, two sides: drawn at the far end of the back side and taken through both)
    with BuildSketch(Plane.XY.offset(-CUT_EXTRUDE17_DEPTH_BACK)):
        with Locations((-29.75, 37.9)):
            Circle(SKETCH14_R)
        with Locations((-40.25, 37.9)):
            Circle(SKETCH14_R)
    extrude(amount=CUT_EXTRUDE17_DEPTH + CUT_EXTRUDE17_DEPTH_BACK, mode=Mode.SUBTRACT)


solid = part.part
